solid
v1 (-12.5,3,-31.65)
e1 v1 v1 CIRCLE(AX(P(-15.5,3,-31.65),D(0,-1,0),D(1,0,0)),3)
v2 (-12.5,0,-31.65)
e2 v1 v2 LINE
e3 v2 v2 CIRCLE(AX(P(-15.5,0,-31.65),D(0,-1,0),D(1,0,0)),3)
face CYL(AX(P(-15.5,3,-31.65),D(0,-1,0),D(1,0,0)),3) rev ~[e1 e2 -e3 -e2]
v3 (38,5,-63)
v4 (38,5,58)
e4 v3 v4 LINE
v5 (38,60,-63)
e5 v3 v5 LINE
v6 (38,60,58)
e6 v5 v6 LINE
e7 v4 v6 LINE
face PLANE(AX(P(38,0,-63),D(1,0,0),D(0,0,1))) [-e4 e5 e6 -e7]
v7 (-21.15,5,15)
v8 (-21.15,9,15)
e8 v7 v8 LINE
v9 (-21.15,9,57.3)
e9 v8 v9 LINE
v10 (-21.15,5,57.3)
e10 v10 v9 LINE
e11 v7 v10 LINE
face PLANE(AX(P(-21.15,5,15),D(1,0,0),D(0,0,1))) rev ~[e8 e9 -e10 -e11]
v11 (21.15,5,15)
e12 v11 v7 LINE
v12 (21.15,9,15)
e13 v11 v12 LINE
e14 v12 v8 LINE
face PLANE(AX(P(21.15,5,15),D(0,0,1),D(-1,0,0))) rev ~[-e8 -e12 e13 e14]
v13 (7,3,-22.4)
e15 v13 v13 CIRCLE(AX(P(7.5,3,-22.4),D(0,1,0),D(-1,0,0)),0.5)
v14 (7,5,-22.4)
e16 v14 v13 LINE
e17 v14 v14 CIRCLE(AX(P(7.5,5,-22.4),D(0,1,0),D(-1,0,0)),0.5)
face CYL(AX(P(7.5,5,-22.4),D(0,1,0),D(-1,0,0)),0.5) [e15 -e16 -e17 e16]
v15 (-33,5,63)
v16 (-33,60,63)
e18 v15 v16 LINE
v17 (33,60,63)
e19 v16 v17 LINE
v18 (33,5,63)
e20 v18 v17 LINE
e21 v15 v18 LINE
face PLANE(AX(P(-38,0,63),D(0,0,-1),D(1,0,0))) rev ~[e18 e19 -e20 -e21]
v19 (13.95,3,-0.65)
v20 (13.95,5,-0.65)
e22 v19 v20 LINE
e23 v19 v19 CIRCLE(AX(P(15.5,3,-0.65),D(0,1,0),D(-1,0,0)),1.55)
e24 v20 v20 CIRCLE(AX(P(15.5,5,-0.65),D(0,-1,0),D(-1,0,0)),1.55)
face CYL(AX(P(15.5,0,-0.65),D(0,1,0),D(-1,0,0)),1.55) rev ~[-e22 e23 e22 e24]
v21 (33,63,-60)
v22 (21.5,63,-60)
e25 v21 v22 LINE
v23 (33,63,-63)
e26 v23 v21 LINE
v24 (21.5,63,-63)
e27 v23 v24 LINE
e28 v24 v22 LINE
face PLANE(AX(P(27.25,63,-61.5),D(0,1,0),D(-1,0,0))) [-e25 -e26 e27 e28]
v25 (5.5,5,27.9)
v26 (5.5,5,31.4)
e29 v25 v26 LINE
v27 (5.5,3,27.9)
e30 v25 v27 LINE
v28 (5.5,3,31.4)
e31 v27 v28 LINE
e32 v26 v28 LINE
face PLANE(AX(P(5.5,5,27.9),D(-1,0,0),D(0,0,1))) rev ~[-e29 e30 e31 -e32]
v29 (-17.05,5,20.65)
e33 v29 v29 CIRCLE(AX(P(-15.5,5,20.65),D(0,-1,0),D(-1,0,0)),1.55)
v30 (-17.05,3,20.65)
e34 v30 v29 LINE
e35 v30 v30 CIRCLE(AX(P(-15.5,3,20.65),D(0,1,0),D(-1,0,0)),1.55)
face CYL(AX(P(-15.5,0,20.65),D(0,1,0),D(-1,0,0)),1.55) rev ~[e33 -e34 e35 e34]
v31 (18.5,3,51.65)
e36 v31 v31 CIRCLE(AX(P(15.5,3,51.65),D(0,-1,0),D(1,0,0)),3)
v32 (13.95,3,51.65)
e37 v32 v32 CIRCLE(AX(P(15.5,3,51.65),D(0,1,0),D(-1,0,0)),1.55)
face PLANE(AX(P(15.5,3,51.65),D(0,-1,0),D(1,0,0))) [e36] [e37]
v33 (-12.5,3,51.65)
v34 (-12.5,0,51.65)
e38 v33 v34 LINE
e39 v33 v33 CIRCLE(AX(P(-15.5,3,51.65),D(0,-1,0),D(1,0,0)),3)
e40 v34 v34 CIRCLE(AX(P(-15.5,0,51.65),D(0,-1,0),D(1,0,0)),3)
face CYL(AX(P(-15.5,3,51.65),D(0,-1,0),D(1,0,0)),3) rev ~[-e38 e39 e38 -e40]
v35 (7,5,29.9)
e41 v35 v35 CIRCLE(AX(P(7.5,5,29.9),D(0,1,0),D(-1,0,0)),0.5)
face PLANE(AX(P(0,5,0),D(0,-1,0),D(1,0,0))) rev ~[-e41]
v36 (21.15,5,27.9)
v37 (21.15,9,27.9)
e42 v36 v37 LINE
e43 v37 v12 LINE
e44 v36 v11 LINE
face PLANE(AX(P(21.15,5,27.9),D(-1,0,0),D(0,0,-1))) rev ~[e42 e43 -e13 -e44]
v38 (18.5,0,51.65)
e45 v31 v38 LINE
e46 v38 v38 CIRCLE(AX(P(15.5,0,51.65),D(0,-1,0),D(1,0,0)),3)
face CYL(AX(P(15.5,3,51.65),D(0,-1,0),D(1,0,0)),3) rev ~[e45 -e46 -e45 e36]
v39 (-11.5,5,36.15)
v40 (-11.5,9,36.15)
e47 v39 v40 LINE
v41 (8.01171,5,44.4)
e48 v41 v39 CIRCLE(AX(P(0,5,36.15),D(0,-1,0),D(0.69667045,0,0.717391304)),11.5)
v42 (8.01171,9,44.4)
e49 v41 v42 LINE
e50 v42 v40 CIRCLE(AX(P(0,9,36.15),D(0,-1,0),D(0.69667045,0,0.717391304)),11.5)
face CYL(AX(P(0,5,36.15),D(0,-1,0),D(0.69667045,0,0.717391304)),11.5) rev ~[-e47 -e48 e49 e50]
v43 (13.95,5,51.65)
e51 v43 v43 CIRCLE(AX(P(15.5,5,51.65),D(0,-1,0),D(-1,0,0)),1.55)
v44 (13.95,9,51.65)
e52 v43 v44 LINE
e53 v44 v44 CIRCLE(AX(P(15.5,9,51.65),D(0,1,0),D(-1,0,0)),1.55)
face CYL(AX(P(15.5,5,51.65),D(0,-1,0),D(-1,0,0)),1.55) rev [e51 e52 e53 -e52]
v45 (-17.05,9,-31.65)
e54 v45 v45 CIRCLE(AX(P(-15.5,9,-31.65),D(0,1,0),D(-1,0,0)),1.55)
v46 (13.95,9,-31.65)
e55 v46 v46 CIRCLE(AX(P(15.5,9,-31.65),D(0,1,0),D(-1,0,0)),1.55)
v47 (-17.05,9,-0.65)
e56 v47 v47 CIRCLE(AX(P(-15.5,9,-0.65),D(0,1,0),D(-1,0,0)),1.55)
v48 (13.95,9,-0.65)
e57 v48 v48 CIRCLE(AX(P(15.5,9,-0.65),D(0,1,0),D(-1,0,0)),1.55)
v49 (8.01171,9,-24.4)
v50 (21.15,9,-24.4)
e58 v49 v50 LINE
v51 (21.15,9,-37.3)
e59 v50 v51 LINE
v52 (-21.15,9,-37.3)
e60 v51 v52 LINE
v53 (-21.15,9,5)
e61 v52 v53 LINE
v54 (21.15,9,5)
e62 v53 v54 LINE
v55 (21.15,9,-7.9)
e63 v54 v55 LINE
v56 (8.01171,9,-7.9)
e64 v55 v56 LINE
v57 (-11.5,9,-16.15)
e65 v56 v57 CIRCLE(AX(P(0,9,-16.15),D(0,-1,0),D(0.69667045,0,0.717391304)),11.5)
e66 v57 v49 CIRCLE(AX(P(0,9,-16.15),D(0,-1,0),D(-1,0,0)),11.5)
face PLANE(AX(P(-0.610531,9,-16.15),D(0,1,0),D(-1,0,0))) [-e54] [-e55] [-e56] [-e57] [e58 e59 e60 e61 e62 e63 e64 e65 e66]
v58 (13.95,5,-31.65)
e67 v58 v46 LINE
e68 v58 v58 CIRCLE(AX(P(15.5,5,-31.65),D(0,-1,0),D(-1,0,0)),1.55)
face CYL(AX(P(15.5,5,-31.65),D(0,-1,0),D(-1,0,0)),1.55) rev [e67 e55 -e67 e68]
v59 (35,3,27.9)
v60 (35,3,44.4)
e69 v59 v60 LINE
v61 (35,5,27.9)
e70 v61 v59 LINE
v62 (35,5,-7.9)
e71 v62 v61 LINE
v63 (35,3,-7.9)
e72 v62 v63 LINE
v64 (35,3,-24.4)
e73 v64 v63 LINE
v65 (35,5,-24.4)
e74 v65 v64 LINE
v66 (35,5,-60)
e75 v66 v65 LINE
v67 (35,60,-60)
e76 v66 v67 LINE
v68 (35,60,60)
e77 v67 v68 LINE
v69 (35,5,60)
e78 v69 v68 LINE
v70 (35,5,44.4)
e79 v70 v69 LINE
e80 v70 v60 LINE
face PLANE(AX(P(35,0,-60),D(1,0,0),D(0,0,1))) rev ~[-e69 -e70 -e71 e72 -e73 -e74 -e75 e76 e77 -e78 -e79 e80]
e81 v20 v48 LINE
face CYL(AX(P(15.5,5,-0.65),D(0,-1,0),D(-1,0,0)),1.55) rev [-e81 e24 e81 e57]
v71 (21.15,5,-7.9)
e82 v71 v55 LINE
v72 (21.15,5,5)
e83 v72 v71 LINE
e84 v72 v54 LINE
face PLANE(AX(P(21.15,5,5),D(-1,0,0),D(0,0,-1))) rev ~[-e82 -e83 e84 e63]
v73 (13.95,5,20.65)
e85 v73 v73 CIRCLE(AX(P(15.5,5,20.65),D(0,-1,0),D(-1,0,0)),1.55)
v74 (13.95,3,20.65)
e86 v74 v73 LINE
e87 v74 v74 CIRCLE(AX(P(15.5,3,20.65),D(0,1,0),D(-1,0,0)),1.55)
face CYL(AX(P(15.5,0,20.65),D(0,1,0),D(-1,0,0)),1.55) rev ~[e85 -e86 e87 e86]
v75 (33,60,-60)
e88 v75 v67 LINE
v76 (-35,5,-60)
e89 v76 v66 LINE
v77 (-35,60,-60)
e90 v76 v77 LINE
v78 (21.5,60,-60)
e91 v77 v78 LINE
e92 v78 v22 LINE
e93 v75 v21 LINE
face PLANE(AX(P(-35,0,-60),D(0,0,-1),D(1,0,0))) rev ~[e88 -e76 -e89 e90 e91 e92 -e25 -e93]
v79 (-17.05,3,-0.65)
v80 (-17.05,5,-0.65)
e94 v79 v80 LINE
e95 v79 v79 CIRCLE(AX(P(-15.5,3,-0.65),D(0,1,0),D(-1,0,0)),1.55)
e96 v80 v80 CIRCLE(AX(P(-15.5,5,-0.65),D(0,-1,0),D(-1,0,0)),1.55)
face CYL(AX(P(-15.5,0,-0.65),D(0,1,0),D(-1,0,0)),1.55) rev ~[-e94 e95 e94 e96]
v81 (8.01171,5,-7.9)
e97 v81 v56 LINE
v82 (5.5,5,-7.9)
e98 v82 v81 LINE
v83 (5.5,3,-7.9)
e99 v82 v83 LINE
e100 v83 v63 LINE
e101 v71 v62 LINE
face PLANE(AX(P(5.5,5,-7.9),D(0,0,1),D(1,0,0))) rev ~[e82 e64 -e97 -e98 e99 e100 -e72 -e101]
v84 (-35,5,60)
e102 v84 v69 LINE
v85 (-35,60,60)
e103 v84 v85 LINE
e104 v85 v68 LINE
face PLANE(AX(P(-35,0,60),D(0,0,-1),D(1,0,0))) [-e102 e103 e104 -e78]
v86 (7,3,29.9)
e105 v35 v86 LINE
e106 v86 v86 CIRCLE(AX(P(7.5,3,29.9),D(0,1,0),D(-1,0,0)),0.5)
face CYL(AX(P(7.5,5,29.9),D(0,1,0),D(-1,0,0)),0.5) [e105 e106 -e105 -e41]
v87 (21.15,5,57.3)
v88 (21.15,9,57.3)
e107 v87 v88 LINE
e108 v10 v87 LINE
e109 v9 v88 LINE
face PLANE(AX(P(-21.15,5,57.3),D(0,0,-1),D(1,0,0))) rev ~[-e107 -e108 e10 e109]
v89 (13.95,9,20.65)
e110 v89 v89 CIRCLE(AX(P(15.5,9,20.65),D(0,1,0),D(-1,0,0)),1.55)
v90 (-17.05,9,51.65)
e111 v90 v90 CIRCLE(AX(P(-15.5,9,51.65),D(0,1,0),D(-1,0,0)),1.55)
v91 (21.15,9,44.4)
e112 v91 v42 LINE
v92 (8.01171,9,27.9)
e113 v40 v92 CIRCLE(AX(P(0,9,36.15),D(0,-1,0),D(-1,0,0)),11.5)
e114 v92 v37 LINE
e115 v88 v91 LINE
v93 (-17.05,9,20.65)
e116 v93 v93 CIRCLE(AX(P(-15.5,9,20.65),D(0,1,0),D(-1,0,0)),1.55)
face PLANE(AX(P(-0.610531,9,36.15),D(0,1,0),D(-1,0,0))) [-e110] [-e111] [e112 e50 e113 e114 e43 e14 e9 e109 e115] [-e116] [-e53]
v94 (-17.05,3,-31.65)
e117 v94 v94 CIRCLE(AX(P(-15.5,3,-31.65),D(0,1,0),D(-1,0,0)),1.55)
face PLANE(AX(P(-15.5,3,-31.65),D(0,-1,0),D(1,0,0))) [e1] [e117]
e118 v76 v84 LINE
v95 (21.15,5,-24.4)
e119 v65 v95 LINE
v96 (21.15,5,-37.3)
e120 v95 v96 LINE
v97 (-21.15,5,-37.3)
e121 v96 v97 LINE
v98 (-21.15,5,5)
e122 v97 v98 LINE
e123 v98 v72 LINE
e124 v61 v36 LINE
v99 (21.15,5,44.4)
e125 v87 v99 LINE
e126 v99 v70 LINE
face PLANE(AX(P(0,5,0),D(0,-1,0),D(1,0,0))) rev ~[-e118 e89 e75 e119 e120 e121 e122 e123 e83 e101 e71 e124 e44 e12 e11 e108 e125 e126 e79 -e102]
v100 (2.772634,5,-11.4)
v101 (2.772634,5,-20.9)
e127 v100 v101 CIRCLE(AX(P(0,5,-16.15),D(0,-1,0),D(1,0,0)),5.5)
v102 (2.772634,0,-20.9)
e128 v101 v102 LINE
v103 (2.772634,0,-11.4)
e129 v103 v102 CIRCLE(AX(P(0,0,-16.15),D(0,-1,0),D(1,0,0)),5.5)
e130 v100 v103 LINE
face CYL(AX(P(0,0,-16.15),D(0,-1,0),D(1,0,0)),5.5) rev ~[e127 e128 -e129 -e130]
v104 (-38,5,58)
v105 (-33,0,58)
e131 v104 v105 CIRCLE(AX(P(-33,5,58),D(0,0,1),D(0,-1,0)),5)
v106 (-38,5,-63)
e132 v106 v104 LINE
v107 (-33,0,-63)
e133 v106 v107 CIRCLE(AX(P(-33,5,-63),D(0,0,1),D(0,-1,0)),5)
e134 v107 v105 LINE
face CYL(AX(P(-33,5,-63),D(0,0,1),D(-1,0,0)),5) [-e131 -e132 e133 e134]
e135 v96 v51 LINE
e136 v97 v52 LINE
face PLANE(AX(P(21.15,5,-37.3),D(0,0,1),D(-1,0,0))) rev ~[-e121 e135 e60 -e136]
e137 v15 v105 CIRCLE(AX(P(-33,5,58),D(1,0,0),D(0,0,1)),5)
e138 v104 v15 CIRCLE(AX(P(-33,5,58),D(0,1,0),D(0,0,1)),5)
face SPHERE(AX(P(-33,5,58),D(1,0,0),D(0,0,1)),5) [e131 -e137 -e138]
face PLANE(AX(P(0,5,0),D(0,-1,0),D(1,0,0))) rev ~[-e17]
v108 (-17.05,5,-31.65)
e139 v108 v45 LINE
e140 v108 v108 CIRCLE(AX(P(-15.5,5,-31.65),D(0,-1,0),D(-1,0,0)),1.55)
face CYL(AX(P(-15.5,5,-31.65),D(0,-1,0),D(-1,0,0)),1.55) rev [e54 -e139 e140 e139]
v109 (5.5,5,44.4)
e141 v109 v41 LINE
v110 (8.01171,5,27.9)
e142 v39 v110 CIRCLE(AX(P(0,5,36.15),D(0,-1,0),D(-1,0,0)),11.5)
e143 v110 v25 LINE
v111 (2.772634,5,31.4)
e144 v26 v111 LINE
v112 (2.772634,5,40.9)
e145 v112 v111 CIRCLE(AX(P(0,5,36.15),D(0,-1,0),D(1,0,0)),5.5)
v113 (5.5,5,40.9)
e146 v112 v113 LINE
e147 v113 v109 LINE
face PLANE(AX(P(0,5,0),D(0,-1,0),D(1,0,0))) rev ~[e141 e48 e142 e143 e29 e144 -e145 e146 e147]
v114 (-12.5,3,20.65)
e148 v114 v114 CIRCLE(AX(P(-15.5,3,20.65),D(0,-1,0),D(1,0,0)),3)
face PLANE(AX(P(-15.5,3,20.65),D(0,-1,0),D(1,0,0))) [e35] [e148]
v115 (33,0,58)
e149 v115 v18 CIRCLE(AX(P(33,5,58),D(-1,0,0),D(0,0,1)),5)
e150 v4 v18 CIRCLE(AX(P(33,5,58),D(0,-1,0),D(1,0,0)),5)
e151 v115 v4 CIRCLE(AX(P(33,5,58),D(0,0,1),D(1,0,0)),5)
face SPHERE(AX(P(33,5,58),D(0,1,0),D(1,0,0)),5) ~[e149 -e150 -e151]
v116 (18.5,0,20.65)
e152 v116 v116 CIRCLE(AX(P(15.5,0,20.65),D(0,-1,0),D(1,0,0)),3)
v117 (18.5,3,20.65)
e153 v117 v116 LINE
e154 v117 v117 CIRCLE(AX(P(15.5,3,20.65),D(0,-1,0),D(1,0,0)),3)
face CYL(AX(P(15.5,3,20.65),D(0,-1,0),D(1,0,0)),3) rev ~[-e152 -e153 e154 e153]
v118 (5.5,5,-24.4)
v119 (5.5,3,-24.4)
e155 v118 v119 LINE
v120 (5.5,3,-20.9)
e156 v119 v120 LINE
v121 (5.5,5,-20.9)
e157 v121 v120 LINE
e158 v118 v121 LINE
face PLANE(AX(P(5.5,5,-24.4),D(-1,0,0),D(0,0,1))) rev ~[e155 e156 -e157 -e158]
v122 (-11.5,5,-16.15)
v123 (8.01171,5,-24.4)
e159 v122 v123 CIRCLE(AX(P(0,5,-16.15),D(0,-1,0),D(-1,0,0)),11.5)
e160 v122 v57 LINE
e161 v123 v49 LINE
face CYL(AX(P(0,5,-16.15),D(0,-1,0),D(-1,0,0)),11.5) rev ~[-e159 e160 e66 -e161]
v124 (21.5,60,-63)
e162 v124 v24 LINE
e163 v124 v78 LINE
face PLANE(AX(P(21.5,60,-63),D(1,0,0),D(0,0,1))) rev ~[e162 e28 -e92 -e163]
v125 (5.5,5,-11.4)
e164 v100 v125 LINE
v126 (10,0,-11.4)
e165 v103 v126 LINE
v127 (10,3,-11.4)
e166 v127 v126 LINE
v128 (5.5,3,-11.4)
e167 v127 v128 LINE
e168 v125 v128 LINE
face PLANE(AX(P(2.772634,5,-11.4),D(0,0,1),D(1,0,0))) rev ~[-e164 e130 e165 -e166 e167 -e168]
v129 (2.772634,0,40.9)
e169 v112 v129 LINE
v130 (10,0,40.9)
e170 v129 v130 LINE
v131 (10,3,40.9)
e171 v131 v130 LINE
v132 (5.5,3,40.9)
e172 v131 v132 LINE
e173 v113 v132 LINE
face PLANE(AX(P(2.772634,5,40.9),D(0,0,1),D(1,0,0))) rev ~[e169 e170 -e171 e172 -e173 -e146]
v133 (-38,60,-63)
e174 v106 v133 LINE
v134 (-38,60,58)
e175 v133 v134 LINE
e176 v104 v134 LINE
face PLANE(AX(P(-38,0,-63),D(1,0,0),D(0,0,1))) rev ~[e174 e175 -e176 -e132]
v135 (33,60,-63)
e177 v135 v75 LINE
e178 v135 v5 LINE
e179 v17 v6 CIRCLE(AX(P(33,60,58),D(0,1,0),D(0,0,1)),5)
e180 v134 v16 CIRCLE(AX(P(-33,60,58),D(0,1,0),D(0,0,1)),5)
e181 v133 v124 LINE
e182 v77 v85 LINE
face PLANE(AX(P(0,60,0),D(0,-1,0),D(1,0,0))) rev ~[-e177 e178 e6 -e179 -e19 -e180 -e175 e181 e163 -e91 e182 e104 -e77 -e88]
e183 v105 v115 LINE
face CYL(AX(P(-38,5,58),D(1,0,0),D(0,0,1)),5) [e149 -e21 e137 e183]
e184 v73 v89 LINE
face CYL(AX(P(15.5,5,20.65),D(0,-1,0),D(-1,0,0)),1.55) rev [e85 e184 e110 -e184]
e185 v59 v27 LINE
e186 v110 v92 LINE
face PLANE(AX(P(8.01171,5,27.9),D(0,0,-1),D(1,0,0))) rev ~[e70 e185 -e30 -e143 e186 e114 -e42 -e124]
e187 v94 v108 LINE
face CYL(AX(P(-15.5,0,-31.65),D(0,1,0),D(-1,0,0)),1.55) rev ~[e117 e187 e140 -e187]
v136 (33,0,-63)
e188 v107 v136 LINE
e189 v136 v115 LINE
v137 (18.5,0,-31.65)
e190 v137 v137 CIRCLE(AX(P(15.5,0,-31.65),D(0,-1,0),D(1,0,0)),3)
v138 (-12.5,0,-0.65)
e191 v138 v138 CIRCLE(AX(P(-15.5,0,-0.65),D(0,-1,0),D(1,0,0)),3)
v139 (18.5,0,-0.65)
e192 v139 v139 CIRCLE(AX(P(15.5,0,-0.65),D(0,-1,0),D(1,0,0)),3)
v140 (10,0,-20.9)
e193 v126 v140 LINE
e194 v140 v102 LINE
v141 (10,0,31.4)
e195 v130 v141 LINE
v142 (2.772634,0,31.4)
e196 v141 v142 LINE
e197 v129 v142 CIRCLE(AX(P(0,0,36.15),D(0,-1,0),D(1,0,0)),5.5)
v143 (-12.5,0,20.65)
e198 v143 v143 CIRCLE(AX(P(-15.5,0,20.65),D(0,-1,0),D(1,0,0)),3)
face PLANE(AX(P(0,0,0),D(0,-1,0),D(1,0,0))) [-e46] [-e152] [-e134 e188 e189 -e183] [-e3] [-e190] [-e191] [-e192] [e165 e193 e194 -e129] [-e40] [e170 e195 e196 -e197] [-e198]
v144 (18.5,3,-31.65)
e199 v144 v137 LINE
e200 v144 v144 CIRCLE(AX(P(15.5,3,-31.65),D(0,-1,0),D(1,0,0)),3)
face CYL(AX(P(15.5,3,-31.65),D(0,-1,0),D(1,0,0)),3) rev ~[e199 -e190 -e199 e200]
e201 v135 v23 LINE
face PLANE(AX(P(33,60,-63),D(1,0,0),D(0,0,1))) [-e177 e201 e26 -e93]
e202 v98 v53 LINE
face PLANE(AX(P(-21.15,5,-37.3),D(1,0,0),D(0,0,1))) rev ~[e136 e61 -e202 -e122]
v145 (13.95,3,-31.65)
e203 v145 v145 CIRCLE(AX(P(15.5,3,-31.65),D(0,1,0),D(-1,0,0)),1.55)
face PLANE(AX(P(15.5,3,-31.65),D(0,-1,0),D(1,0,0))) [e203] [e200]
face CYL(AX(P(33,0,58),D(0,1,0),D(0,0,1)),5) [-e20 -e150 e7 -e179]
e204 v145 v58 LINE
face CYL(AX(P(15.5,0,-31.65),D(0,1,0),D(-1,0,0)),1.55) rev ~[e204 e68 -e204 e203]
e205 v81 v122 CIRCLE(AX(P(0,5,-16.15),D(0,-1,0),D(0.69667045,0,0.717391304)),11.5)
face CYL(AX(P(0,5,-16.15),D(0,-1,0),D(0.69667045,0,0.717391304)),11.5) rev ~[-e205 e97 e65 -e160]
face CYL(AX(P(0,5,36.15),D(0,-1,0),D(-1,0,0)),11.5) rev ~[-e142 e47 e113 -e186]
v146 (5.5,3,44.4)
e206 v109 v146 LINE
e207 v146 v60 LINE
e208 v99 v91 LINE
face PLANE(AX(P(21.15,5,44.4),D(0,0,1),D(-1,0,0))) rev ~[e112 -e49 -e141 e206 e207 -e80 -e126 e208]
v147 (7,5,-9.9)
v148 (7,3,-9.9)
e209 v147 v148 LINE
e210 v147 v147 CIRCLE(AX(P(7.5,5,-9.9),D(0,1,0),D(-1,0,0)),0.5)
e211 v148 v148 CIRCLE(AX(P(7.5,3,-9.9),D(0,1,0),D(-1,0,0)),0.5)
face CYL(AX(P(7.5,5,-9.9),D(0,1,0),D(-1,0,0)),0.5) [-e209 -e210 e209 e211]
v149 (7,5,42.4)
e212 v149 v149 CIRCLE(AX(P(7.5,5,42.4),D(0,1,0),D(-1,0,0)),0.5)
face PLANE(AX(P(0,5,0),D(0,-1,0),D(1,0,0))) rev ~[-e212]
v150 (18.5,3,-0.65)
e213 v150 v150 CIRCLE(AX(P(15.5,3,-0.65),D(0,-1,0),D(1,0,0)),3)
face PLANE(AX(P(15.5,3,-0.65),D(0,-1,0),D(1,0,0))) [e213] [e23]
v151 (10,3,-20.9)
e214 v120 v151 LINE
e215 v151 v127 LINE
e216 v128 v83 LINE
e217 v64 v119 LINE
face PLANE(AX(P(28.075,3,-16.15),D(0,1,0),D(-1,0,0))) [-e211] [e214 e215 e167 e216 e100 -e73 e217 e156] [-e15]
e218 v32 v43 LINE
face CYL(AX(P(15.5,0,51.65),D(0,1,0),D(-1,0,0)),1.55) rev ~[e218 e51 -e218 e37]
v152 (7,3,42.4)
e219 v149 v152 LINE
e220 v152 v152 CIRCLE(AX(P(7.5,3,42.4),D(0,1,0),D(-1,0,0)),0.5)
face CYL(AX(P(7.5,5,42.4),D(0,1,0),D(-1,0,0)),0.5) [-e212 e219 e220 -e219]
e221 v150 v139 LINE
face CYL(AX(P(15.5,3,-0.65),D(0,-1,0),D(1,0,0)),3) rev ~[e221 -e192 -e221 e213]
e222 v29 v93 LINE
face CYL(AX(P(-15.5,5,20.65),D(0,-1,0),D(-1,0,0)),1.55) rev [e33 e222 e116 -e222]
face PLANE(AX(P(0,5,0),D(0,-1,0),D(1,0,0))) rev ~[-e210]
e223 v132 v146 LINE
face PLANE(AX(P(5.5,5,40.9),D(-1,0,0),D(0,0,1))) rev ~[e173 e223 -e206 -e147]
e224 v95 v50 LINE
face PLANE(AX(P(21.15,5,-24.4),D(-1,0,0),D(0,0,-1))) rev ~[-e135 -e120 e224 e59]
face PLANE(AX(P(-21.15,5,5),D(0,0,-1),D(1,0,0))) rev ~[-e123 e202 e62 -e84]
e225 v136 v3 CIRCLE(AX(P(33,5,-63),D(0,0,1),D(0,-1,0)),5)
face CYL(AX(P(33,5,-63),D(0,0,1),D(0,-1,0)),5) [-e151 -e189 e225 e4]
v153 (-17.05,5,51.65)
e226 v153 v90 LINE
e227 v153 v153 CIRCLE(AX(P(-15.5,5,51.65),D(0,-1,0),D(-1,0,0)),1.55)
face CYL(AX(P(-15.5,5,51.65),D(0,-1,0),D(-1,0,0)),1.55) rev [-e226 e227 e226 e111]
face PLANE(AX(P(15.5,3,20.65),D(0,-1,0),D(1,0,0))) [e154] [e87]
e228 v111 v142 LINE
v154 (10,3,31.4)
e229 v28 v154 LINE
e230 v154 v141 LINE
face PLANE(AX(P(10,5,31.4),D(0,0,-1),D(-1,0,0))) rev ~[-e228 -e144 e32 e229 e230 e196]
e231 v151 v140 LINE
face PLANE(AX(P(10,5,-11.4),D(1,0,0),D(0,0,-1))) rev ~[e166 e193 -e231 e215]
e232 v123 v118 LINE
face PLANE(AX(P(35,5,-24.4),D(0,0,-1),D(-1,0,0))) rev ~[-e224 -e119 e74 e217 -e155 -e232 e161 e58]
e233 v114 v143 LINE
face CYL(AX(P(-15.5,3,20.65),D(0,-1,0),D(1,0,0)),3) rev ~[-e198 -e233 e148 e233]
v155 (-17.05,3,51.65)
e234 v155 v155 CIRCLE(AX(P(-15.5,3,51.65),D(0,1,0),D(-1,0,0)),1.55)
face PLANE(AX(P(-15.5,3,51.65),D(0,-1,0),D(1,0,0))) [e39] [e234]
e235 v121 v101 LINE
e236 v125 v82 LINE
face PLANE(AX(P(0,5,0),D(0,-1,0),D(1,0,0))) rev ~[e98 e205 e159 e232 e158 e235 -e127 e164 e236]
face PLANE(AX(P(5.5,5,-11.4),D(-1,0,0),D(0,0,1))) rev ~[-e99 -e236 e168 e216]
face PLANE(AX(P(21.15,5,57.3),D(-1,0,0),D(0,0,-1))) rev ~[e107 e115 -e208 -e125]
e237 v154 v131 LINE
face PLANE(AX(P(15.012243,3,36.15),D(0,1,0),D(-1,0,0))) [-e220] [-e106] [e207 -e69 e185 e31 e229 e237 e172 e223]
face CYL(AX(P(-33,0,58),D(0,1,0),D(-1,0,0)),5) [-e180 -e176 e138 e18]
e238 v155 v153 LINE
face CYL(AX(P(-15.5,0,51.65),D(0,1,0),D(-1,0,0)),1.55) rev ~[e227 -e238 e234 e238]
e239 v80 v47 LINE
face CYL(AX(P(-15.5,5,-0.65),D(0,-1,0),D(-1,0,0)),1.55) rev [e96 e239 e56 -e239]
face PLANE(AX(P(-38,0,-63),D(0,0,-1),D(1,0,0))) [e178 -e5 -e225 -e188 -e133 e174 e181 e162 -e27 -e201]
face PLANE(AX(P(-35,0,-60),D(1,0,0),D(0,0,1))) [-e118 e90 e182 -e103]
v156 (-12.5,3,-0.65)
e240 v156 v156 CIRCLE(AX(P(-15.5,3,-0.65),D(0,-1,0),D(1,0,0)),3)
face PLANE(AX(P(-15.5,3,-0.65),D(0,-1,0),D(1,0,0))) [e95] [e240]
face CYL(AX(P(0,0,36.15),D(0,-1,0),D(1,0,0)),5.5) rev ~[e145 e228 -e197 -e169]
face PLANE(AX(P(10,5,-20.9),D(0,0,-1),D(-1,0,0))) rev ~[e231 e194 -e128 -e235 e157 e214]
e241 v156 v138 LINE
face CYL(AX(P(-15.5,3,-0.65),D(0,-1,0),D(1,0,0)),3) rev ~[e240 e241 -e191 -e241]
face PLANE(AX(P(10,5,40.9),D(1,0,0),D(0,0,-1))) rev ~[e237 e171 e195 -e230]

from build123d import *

# Parameters (mm, degrees)
F0_W           = 70
F0_H           = 120
F0_R           = 5.5
F1_DEPTH       = 5
F2_D           = 3.1
F2_DEPTH       = 5
F2_CBORE_D     = 6
F2_CBORE_DEPTH = 3
F2_TIP         = 0.9313339595
F3_W           = 13.85
F3_H           = 16.5
F3_R           = 0.5
F4_DEPTH       = 2
F5_DEPTH       = 5
F3_R_2         = 1.55
F6_DEPTH       = 4
F0_W_2         = 76
F0_H_2         = 126
F7_DEPTH       = 60
F8_R           = 5
F9_W           = 11.5
F9_H           = 3
F10_DEPTH      = 3


with BuildPart() as f1:
    # F0 (on Front) → F1 (new body)
    with BuildSketch(Plane.XZ):
        Rectangle(F0_W, F0_H)
        with Locations((0, -16.15)):
            Circle(F0_R, mode=Mode.SUBTRACT)
        with Locations((0, 36.15)):
            Circle(F0_R, mode=Mode.SUBTRACT)
    extrude(amount=-F1_DEPTH)

    # F2
    with Locations(Plane.XZ):
        with Locations((15.5, 51.65), (-15.5, 51.65), (-15.5, 20.65), (15.5, 20.65), (15.5, -0.65), (-15.5, -0.65), (-15.5, -31.65), (15.5, -31.65)):
            CounterBoreHole(F2_D / 2, F2_CBORE_D / 2, F2_CBORE_DEPTH, depth=F2_DEPTH)
            with Locations((0, 0, -(F2_DEPTH + F2_TIP / 2))):  # 118° drill point
                Cone(0, F2_D / 2, F2_TIP, mode=Mode.SUBTRACT)

    # F3 (on face) → F4 (cut)
    with BuildSketch(Plane(origin=(0, 5, 0), x_dir=(-1, 0, 0), z_dir=(0, 1, 0))):
        with BuildLine():
            ThreePointArc((-8.0117101795, 27.9), (-11.5, 36.15), (-8.0117101795, 44.4))
            Line((-8.0117101795, 44.4), (-21.15, 44.4))
            Line((-21.15, 44.4), (-21.15, 27.9))
            Line((-21.15, 27.9), (-8.0117101795, 27.9))
        make_face()
        with Locations((-28.075, 36.15)):
            Rectangle(F3_W, F3_H)
        with BuildLine():
            Line((-5.5, 44.4), (-8.0117101795, 44.4))
            ThreePointArc((-8.0117101795, 44.4), (-11.5, 36.15), (-8.0117101795, 27.9))
            Line((-8.0117101795, 27.9), (-5.5, 27.9))
            Line((-5.5, 27.9), (-5.5, 31.4))
            Line((-5.5, 31.4), (-10, 31.4))
            Line((-10, 31.4), (-10, 40.9))
            Line((-10, 40.9), (-5.5, 40.9))
            Line((-5.5, 40.9), (-5.5, 44.4))
        make_face()
        with Locations((-7.5, 29.9)):
            Circle(F3_R, mode=Mode.SUBTRACT)
        with Locations((-7.5, 42.4)):
            Circle(F3_R, mode=Mode.SUBTRACT)
        with Locations((-28.075, -16.15)):
            Rectangle(F3_W, F3_H)
        with BuildLine():
            Line((-8.0117101795, -7.9), (-21.15, -7.9))
            Line((-21.15, -7.9), (-21.15, -24.4))
            Line((-21.15, -24.4), (-8.0117101795, -24.4))
            ThreePointArc((-8.0117101795, -24.4), (-11.5, -16.15), (-8.0117101795, -7.9))
        make_face()
        with BuildLine():
            Line((-5.5, -7.9), (-8.0117101795, -7.9))
            ThreePointArc((-8.0117101795, -7.9), (-11.5, -16.15), (-8.0117101795, -24.4))
            Line((-8.0117101795, -24.4), (-5.5, -24.4))
            Line((-5.5, -24.4), (-5.5, -20.9))
            Line((-5.5, -20.9), (-10, -20.9))
            Line((-10, -20.9), (-10, -11.4))
            Line((-10, -11.4), (-5.5, -11.4))
            Line((-5.5, -11.4), (-5.5, -7.9))
        make_face()
        with Locations((-7.5, -22.4)):
            Circle(F3_R, mode=Mode.SUBTRACT)
        with Locations((-7.5, -9.9)):
            Circle(F3_R, mode=Mode.SUBTRACT)
    extrude(amount=-F4_DEPTH, mode=Mode.SUBTRACT)

    # F3 (on face) → F5 (cut)
    with BuildSketch(Plane(origin=(0, 5, 0), x_dir=(-1, 0, 0), z_dir=(0, 1, 0))):
        with BuildLine():
            Line((-2.7726341266, 40.9), (-5.5, 40.9))
            Line((-5.5, 40.9), (-10, 40.9))
            Line((-10, 40.9), (-10, 31.4))
            Line((-10, 31.4), (-5.5, 31.4))
            Line((-5.5, 31.4), (-2.7726341266, 31.4))
            ThreePointArc((-2.7726341266, 31.4), (-5.5, 36.15), (-2.7726341266, 40.9))
        make_face()
        with BuildLine():
            Line((-2.7726341266, -11.4), (-5.5, -11.4))
            Line((-5.5, -11.4), (-10, -11.4))
            Line((-10, -11.4), (-10, -20.9))
            Line((-10, -20.9), (-5.5, -20.9))
            Line((-5.5, -20.9), (-2.7726341266, -20.9))
            ThreePointArc((-2.7726341266, -20.9), (-5.5, -16.15), (-2.7726341266, -11.4))
        make_face()
    extrude(amount=-F5_DEPTH, mode=Mode.SUBTRACT)

    # F3 (on face) → F6 (join)
    with BuildSketch(Plane(origin=(0, 5, 0), x_dir=(-1, 0, 0), z_dir=(0, 1, 0))):
        with BuildLine():
            ThreePointArc((-8.0117101795, 44.4), (4.4785786214, 46.7420882517), (11.5, 36.15))
            ThreePointArc((11.5, 36.15), (4.4785786214, 25.5579117483), (-8.0117101795, 27.9))
            Line((-8.0117101795, 27.9), (-21.15, 27.9))
            Line((-21.15, 27.9), (-21.15, 15))
            Line((-21.15, 15), (21.15, 15))
            Line((21.15, 15), (21.15, 57.3))
            Line((21.15, 57.3), (-21.15, 57.3))
            Line((-21.15, 57.3), (-21.15, 44.4))
            Line((-21.15, 44.4), (-8.0117101795, 44.4))
        make_face()
        with Locations((-15.5, 20.65)):
            Circle(F3_R_2, mode=Mode.SUBTRACT)
        with Locations((-15.5, 51.65)):
            Circle(F3_R_2, mode=Mode.SUBTRACT)
        with Locations((15.5, 20.65)):
            Circle(F3_R_2, mode=Mode.SUBTRACT)
        with Locations((15.5, 51.65)):
            Circle(F3_R_2, mode=Mode.SUBTRACT)
        with BuildLine():
            Line((-21.15, 5), (-21.15, -7.9))
            Line((-21.15, -7.9), (-8.0117101795, -7.9))
            ThreePointArc((-8.0117101795, -7.9), (4.4785786214, -5.5579117483), (11.5, -16.15))
            ThreePointArc((11.5, -16.15), (4.4785786214, -26.7420882517), (-8.0117101795, -24.4))
            Line((-8.0117101795, -24.4), (-21.15, -24.4))
            Line((-21.15, -24.4), (-21.15, -37.3))
            Line((-21.15, -37.3), (21.15, -37.3))
            Line((21.15, -37.3), (21.15, 5))
            Line((21.15, 5), (-21.15, 5))
        make_face()
        with Locations((-15.5, -31.65)):
            Circle(F3_R_2, mode=Mode.SUBTRACT)
        with Locations((-15.5, -0.65)):
            Circle(F3_R_2, mode=Mode.SUBTRACT)
        with Locations((15.5, -31.65)):
            Circle(F3_R_2, mode=Mode.SUBTRACT)
        with Locations((15.5, -0.65)):
            Circle(F3_R_2, mode=Mode.SUBTRACT)
    extrude(amount=F6_DEPTH)

    # F0 (on Front) → F7 (join)
    with BuildSketch(Plane.XZ):
        Rectangle(F0_W_2, F0_H_2)
        Rectangle(F0_W, F0_H, mode=Mode.SUBTRACT)
    extrude(amount=-F7_DEPTH)

    # F8
    f8_edges = [f1.edges().sort_by_distance(p)[0] for p in [
        (38, 30, 63),
        (38, 0, 0),
        (0, 0, 63),
        (-38, 30, 63),
        (-38, 0, 0),
    ]]
    fillet(f8_edges, radius=F8_R)

    # F9 (on face) → F10 (join)
    with BuildSketch(Plane(origin=(0, 60, 0), x_dir=(-1, 0, 0), z_dir=(0, 1, 0))):
        with Locations((-27.25, -61.5)):
            Rectangle(F9_W, F9_H)
    extrude(amount=F10_DEPTH)


solid = f1.part
